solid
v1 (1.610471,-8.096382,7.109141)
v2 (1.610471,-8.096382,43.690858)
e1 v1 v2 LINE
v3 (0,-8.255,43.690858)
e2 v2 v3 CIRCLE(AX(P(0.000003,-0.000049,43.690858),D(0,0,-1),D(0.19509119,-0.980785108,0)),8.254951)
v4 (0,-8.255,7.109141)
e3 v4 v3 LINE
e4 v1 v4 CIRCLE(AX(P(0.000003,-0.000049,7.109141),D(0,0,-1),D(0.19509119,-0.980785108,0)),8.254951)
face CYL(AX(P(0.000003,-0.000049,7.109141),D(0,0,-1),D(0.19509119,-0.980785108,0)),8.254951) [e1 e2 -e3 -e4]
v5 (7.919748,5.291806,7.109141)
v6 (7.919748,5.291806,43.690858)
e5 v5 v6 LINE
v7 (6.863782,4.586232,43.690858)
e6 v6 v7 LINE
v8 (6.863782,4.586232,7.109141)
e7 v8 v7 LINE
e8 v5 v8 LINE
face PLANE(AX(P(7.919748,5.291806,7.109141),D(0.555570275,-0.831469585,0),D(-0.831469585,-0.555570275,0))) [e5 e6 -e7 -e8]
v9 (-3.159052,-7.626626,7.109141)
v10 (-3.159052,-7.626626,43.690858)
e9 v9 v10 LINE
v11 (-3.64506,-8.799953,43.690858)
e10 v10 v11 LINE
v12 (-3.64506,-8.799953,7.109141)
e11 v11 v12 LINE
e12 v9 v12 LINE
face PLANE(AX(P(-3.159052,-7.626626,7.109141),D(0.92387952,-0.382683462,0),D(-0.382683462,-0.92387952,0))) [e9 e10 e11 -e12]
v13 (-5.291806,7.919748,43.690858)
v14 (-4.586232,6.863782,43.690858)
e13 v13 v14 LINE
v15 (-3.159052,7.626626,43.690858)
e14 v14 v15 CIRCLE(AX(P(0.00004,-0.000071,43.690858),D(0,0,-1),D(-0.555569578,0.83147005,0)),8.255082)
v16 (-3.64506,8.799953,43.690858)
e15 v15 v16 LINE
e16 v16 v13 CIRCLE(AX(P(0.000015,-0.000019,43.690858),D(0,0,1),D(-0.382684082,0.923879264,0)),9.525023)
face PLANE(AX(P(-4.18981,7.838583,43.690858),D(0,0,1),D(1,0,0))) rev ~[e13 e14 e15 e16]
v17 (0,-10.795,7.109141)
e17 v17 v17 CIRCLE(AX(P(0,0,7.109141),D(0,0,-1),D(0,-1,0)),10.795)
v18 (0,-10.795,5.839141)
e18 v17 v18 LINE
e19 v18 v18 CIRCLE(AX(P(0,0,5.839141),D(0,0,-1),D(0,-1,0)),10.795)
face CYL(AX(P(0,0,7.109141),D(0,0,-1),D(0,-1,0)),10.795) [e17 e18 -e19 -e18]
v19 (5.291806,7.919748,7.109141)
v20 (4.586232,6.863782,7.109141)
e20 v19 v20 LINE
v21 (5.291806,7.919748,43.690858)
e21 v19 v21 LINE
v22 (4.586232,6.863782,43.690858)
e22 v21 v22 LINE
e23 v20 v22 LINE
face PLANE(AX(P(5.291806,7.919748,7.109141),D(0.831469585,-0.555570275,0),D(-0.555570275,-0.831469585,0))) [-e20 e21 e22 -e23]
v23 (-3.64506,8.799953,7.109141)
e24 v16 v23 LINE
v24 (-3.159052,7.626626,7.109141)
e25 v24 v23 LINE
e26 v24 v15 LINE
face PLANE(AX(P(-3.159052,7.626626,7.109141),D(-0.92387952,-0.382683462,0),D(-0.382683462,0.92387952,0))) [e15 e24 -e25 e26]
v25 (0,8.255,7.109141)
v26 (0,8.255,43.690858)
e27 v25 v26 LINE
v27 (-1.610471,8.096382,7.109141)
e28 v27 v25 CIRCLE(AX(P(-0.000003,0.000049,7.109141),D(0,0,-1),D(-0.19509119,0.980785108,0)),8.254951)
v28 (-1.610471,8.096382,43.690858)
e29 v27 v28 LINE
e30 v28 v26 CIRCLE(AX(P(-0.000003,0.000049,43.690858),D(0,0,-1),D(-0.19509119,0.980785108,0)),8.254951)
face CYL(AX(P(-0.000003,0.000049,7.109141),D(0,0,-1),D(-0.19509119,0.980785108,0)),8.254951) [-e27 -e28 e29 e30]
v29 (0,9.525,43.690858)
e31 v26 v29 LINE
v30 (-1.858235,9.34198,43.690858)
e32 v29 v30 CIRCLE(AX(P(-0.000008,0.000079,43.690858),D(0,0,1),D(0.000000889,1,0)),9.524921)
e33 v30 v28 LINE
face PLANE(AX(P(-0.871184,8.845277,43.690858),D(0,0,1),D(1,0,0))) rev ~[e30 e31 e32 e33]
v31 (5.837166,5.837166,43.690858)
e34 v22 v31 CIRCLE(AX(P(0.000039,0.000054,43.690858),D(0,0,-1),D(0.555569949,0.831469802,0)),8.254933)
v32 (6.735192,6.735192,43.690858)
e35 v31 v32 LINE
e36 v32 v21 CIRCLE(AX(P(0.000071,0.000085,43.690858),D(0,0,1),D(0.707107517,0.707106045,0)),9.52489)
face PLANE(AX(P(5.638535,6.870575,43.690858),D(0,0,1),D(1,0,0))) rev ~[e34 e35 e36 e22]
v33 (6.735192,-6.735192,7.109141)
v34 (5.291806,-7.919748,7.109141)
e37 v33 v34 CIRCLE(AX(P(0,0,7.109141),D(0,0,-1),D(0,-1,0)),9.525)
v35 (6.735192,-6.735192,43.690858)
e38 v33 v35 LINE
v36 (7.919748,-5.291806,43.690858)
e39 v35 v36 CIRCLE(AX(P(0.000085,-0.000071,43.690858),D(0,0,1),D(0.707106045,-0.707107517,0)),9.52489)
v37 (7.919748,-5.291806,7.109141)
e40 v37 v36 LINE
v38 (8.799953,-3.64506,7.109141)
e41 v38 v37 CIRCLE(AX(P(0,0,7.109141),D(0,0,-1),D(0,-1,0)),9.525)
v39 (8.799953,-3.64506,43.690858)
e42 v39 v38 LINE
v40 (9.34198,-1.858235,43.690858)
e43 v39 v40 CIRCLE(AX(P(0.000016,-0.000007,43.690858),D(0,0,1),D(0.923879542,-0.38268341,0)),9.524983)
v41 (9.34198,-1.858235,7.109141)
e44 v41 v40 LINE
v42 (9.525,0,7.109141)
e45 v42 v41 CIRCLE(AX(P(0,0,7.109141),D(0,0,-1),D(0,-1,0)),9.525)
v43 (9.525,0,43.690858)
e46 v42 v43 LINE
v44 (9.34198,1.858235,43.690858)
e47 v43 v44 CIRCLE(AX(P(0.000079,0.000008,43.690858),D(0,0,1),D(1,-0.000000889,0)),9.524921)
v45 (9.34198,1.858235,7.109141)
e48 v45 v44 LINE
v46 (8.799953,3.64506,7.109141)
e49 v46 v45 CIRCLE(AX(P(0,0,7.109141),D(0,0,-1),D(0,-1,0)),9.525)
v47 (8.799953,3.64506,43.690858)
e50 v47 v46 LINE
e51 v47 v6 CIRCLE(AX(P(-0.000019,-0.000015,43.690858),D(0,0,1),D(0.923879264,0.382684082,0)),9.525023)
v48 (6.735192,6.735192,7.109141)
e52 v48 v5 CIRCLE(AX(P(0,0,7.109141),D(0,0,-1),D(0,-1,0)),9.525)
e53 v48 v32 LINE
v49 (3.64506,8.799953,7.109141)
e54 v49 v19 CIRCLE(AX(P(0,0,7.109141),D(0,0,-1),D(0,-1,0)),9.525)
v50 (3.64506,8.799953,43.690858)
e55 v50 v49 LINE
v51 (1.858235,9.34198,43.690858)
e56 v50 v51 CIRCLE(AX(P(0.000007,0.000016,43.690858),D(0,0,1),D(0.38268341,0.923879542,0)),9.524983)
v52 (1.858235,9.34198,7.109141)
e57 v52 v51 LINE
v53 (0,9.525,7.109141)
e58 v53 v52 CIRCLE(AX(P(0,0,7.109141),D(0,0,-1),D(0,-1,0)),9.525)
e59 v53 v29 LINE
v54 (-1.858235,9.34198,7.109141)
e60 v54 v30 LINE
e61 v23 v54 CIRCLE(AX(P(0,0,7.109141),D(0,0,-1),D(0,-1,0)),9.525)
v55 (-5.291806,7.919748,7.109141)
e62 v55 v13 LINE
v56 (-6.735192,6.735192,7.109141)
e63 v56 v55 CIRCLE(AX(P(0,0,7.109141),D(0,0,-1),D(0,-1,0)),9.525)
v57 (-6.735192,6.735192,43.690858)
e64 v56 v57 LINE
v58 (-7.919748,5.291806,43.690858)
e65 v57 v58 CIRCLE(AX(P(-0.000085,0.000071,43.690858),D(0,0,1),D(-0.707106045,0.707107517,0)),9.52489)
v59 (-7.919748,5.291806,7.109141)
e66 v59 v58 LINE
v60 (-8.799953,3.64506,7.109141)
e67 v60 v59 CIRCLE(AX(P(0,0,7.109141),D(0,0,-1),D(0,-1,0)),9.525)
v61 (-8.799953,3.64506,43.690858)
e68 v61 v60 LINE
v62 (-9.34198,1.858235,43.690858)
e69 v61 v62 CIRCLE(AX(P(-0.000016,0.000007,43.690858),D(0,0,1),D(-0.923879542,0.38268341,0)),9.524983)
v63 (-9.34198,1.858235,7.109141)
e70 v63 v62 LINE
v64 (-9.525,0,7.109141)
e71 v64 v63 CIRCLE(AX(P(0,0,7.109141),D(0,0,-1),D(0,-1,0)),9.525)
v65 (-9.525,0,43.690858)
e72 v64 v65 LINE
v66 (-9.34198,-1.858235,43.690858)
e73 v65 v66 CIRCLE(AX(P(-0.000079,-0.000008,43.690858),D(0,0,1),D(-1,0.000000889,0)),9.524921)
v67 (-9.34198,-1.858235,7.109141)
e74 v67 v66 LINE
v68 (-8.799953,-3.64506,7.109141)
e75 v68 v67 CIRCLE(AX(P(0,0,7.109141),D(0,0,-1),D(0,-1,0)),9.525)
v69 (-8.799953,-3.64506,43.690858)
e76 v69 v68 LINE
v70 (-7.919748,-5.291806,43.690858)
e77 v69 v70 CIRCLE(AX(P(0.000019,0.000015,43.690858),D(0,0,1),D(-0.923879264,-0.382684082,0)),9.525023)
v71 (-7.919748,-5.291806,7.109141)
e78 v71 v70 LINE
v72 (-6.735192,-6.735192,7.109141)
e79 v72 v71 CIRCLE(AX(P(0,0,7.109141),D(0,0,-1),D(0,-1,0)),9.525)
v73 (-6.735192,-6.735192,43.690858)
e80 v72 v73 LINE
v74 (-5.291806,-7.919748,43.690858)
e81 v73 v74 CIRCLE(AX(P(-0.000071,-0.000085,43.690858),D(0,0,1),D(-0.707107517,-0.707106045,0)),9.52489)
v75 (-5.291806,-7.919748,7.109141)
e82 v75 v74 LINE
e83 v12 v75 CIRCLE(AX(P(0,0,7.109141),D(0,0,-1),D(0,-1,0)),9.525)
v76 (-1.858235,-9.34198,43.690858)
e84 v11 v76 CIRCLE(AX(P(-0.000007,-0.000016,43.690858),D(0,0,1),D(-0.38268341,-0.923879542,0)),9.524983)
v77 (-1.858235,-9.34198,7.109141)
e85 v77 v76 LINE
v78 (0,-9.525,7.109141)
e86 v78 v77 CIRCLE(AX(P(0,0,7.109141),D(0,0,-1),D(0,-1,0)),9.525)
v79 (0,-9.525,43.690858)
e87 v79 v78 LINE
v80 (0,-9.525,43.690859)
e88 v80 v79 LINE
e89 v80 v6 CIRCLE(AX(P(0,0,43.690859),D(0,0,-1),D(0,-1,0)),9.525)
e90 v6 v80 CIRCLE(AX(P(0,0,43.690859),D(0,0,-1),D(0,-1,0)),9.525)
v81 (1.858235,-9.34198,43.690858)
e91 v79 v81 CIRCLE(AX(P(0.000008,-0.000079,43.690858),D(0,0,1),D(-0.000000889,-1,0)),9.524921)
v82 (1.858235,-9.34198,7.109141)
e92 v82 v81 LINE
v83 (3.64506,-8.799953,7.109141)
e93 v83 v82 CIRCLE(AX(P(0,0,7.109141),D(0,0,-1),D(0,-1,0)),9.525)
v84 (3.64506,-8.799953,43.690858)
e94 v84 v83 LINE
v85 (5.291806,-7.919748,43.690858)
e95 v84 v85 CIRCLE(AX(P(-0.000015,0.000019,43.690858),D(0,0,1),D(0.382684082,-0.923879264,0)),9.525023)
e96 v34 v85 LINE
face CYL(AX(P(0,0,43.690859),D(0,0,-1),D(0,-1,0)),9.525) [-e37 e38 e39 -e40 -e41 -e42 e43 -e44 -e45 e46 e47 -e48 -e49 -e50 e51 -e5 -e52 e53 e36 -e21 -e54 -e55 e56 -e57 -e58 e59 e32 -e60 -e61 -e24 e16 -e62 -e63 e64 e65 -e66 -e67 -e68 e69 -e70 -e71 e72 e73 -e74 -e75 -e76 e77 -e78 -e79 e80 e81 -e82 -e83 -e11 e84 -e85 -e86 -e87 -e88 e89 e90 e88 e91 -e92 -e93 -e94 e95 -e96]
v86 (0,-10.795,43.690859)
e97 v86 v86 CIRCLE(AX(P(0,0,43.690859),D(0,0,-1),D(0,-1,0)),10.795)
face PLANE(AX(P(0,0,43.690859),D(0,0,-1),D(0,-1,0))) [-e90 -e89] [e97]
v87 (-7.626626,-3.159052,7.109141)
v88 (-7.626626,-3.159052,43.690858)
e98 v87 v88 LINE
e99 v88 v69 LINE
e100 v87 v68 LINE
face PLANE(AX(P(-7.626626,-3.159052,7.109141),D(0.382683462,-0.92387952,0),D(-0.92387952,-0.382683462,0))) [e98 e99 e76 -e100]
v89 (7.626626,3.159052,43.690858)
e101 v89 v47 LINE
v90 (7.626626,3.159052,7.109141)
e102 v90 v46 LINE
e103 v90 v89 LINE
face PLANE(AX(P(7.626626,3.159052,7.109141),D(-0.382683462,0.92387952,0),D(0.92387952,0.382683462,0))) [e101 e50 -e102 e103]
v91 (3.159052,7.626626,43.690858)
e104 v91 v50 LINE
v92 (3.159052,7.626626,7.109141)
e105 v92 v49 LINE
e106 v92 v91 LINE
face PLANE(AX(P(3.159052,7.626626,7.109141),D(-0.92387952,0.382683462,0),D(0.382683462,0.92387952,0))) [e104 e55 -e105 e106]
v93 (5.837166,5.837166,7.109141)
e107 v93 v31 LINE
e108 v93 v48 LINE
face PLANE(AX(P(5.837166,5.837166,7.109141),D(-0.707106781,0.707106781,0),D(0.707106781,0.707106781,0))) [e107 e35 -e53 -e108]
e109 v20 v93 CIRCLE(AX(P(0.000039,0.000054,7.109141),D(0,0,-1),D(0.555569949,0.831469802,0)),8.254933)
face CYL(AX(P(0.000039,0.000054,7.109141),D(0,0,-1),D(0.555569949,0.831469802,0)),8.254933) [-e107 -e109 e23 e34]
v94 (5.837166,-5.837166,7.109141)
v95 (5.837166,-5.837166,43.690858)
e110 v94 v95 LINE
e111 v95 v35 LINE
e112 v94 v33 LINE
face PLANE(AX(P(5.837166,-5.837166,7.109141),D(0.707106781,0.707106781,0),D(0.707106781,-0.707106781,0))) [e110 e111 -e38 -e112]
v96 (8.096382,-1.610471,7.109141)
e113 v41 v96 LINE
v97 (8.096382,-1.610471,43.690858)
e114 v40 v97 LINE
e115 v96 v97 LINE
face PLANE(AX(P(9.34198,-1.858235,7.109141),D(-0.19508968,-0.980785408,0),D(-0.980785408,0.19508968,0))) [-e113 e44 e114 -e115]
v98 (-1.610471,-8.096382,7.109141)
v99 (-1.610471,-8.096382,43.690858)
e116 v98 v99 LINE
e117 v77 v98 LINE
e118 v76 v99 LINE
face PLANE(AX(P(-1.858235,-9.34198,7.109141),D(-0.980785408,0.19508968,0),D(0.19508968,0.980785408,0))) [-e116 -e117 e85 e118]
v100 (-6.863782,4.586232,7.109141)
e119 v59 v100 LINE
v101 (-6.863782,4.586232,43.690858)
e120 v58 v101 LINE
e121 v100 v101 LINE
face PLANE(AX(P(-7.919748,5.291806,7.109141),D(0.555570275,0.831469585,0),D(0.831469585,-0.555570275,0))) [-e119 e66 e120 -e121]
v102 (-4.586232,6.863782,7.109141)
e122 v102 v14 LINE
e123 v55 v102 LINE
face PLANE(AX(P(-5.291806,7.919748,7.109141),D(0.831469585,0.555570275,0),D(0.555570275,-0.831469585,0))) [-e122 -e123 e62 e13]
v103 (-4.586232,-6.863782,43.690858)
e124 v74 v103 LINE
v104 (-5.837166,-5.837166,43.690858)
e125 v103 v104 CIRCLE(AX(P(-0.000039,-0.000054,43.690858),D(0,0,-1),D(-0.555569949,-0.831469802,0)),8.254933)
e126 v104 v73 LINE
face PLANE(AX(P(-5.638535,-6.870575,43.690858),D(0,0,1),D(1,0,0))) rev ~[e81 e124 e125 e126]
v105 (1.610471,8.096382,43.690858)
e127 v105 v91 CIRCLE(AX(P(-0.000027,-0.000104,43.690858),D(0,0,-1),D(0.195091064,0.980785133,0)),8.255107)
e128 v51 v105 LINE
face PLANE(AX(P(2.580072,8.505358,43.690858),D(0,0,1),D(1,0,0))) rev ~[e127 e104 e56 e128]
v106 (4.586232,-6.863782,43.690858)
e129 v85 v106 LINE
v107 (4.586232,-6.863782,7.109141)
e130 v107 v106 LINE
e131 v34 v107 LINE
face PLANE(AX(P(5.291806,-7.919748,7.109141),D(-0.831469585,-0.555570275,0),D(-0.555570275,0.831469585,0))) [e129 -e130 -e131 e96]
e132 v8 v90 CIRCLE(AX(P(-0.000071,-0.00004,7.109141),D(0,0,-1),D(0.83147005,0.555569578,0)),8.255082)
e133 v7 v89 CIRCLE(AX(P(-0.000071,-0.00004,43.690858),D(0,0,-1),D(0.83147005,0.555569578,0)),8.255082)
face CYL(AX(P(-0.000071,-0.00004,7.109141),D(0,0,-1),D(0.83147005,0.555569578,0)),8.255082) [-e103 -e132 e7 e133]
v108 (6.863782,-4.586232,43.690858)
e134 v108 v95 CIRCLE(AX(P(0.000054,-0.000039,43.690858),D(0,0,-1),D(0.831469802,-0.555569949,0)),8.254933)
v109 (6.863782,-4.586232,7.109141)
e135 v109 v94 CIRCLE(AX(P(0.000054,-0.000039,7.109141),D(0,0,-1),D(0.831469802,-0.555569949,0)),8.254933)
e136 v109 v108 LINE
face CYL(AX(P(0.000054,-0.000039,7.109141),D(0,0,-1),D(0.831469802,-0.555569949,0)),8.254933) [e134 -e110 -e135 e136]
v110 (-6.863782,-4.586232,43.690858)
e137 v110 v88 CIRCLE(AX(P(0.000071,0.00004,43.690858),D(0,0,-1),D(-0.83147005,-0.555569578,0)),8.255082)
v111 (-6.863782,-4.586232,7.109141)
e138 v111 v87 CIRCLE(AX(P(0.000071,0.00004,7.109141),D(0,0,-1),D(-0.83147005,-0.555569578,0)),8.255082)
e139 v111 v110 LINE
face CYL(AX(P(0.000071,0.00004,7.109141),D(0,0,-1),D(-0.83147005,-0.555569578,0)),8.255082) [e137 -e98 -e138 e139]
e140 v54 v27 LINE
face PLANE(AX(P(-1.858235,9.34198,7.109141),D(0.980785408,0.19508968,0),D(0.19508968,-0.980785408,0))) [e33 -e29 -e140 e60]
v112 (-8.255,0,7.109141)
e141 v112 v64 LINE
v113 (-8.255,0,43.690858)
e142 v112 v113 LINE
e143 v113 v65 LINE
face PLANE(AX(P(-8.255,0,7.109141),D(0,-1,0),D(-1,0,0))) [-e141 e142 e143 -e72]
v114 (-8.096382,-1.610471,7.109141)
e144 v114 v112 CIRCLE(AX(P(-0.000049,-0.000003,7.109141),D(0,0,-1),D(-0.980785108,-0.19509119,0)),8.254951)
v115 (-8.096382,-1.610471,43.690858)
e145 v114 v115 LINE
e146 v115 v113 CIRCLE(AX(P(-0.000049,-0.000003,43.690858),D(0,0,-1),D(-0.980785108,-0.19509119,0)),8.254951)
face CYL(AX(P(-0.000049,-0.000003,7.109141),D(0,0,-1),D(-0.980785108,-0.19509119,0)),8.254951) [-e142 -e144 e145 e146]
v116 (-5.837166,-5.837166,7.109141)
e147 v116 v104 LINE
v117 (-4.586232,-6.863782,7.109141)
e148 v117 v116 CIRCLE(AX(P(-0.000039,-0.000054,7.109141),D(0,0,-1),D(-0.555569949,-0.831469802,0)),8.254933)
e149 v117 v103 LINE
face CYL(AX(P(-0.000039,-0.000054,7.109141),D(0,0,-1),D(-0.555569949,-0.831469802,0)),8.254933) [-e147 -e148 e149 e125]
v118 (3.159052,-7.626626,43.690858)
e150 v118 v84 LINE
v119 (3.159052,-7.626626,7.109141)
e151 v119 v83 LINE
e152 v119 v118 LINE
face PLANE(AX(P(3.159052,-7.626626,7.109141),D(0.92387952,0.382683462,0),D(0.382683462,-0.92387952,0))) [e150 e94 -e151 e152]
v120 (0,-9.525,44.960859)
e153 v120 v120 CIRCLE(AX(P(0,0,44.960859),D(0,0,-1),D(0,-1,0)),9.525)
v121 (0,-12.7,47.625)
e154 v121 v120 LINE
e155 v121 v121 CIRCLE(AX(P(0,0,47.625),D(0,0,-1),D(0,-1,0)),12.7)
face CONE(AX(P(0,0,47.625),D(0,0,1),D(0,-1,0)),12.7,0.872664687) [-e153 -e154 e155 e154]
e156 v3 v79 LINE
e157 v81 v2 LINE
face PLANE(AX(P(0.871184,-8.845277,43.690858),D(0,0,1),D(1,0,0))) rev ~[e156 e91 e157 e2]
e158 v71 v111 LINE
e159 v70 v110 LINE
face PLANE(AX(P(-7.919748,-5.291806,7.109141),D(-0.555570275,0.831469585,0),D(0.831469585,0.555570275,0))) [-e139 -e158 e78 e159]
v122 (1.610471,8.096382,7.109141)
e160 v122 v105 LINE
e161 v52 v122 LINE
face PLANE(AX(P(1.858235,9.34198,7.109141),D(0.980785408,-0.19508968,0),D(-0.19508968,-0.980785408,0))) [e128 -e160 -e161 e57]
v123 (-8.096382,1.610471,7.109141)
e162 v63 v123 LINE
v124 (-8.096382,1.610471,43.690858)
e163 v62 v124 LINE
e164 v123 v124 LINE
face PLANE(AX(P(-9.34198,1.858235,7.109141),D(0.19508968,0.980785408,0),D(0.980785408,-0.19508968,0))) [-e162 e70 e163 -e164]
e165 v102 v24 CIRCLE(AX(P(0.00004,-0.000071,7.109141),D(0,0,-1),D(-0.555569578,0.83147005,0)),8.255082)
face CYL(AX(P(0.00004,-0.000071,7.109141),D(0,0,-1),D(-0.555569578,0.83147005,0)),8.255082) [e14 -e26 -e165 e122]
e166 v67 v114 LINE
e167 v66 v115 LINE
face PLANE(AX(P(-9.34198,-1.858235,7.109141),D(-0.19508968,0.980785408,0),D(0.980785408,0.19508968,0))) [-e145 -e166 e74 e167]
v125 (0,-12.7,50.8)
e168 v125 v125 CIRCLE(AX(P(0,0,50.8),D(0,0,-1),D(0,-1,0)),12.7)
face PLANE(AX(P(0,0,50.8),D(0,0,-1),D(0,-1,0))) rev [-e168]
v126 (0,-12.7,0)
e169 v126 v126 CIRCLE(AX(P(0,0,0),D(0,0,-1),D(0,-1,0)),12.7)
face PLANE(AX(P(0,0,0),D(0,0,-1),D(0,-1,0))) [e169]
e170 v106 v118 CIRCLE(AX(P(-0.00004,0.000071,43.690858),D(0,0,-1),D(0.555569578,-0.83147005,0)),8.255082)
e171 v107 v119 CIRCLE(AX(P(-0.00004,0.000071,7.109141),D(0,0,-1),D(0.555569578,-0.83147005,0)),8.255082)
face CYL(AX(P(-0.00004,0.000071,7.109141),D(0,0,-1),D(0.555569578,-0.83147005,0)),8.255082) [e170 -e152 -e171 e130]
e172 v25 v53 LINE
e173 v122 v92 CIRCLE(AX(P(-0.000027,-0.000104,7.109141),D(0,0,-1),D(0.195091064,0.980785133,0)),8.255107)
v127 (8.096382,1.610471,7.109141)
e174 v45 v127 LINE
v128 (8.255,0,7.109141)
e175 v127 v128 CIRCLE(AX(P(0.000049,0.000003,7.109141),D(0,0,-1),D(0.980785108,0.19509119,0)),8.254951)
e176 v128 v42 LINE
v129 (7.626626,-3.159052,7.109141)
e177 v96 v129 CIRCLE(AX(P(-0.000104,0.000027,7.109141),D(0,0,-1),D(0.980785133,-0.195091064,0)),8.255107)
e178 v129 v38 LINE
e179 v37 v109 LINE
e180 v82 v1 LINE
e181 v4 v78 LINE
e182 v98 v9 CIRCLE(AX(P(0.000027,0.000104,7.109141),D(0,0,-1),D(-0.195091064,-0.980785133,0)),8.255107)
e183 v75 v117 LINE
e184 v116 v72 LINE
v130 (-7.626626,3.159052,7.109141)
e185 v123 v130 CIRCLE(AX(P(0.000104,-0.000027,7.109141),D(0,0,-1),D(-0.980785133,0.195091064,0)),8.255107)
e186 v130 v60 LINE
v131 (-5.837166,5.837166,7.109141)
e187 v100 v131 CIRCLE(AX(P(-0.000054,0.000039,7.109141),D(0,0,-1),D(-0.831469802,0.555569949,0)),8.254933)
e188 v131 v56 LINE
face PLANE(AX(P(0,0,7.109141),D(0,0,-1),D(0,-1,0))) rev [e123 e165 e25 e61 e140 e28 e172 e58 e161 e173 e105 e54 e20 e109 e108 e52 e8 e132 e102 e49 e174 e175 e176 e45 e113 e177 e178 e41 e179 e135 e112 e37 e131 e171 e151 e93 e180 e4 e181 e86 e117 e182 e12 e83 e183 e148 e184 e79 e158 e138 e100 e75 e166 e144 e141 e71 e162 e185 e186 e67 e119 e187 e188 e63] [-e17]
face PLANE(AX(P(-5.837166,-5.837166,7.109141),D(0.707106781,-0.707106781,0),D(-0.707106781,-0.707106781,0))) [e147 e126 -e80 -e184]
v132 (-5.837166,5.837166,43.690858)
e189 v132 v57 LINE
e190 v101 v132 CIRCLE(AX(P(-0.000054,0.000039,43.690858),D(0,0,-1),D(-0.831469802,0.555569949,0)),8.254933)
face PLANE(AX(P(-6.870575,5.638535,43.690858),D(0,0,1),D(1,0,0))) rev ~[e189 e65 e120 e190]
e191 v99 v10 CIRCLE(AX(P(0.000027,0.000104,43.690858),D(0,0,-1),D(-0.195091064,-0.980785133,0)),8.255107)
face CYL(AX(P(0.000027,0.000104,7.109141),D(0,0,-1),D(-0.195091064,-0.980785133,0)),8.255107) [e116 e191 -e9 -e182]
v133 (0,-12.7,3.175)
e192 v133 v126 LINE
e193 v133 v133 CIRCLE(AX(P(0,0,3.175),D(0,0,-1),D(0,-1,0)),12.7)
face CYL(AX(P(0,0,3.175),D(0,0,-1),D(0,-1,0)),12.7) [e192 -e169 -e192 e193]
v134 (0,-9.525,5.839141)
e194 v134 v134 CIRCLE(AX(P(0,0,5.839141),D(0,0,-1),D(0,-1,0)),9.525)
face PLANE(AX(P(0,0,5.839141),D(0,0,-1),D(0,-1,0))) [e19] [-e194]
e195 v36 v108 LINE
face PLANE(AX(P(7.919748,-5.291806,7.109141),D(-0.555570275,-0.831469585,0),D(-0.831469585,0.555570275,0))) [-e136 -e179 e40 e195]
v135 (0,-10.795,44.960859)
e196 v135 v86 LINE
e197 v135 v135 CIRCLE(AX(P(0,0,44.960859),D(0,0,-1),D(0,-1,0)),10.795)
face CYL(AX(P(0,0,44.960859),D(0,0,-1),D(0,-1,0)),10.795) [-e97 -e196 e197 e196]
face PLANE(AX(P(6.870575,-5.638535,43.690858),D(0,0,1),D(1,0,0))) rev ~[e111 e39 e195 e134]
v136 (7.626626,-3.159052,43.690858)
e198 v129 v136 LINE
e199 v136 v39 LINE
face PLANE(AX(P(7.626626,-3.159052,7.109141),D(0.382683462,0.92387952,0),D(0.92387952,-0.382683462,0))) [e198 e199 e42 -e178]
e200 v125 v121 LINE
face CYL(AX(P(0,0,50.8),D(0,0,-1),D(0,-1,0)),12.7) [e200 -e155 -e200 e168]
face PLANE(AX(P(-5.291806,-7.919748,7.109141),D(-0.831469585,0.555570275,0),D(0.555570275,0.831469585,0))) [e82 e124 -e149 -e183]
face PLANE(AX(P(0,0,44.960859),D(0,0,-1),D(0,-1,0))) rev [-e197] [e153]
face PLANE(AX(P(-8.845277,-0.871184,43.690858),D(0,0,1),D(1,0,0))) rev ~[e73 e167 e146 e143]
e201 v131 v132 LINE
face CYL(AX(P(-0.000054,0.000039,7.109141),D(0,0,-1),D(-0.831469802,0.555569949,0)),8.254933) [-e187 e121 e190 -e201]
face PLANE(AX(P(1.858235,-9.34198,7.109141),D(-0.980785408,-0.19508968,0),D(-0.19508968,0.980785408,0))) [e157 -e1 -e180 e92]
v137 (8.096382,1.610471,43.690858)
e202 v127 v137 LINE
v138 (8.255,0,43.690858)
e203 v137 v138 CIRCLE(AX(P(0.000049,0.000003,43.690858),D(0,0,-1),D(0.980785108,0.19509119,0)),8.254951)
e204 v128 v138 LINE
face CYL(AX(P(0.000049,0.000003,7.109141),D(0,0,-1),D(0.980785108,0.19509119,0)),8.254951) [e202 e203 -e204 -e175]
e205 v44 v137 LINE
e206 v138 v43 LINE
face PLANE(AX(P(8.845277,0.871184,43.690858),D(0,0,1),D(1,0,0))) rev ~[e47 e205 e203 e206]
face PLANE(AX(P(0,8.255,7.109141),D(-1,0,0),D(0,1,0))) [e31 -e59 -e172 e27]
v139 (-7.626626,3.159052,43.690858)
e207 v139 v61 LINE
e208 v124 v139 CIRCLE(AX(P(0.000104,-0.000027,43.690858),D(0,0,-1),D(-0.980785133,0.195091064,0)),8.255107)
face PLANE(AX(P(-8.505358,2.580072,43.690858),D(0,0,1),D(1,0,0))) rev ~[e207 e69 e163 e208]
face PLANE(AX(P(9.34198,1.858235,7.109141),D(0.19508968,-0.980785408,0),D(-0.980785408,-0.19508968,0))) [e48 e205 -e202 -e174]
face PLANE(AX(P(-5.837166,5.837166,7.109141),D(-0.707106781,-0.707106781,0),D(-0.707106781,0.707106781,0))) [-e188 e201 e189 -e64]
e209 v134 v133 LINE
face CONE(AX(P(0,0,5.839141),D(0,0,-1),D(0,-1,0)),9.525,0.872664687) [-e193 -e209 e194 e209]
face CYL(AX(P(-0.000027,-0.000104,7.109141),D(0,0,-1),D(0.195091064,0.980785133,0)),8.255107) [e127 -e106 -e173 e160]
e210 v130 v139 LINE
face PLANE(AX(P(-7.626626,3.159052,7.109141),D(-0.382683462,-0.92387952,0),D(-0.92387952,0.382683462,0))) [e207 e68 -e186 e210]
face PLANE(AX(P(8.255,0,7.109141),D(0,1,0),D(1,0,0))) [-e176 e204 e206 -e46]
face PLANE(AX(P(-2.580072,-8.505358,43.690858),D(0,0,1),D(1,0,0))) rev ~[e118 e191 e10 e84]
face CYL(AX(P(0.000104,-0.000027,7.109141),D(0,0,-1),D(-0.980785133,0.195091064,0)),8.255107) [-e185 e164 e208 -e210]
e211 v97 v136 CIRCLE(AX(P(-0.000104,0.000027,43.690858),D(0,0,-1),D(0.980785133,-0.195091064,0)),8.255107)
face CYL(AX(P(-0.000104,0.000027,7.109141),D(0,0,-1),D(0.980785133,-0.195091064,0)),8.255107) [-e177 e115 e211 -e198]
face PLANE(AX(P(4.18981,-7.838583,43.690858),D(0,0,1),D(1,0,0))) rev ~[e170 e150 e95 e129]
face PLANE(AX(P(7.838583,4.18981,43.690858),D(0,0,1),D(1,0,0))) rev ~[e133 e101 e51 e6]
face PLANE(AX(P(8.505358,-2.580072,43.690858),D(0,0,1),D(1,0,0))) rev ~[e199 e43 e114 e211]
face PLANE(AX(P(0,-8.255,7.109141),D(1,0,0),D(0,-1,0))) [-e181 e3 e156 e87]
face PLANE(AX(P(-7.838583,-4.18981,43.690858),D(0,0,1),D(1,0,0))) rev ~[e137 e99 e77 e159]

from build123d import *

# Parameters (mm, degrees)
F3_DEPTH = 36.581717


with BuildPart() as f1:
    # F0 (on Right) → F1 (revolve)
    with BuildSketch(Plane.YZ):
        Polygon((-12.7, 0), (0, 0), (0, 50.8), (-12.7, 50.8), (-12.7, 47.625), (-9.525, 44.960859), (-10.795, 44.960859), (-10.795, 43.690859), (-9.525, 43.690859), (-9.525, 7.109141), (-10.795, 7.109141), (-10.795, 5.839141), (-9.525, 5.839141), (-12.7, 3.175), align=None)
    revolve(axis=Axis((0, 0, 25.4), (0, 0, -1)))

    # F2 (on face) → F3 (cut, through all)
    with BuildSketch(Plane.XY.offset(7.109141)):
        with BuildLine():
            Line((3.159052, -7.626626), (3.64506, -8.799953))
            ThreePointArc((3.64506, -8.799953), (4.490054, -8.4003), (5.291806, -7.919748))
            Line((5.291806, -7.919748), (4.586232, -6.863782))
            ThreePointArc((4.586232, -6.863782), (3.89138, -7.28026), (3.159052, -7.626626))
        make_face()
        with BuildLine():
            Line((0, -8.255), (0, -9.525))
            ThreePointArc((0, -9.525), (0.933613, -9.479135), (1.858235, -9.34198))
            Line((1.858235, -9.34198), (1.610471, -8.096382))
            ThreePointArc((1.610471, -8.096382), (0.809131, -8.21525), (0, -8.255))
        make_face()
        with BuildLine():
            ThreePointArc((6.863782, -4.586232), (6.381201, -5.236917), (5.837166, -5.837166))
            Line((5.837166, -5.837166), (6.735192, -6.735192))
            ThreePointArc((6.735192, -6.735192), (7.362925, -6.042596), (7.919748, -5.291806))
            Line((7.919748, -5.291806), (6.863782, -4.586232))
        make_face()
        with BuildLine():
            ThreePointArc((8.096382, -1.610471), (7.899542, -2.3963), (7.626626, -3.159052))
            Line((7.626626, -3.159052), (8.799953, -3.64506))
            ThreePointArc((8.799953, -3.64506), (9.114857, -2.764962), (9.34198, -1.858235))
            Line((9.34198, -1.858235), (8.096382, -1.610471))
        make_face()
        with BuildLine():
            Line((-7.626626, -3.159052), (-8.799953, -3.64506))
            ThreePointArc((-8.799953, -3.64506), (-8.4003, -4.490054), (-7.919748, -5.291806))
            Line((-7.919748, -5.291806), (-6.863782, -4.586232))
            ThreePointArc((-6.863782, -4.586232), (-7.28026, -3.89138), (-7.626626, -3.159052))
        make_face()
        with BuildLine():
            Line((-8.255, 0), (-9.525, 0))
            ThreePointArc((-9.525, 0), (-9.479135, -0.933613), (-9.34198, -1.858235))
            Line((-9.34198, -1.858235), (-8.096382, -1.610471))
            ThreePointArc((-8.096382, -1.610471), (-8.21525, -0.809131), (-8.255, 0))
        make_face()
        with BuildLine():
            Line((-5.291806, -7.919748), (-4.586232, -6.863782))
            ThreePointArc((-4.586232, -6.863782), (-5.236917, -6.381201), (-5.837166, -5.837166))
            Line((-5.837166, -5.837166), (-6.735192, -6.735192))
            ThreePointArc((-6.735192, -6.735192), (-6.042596, -7.362925), (-5.291806, -7.919748))
        make_face()
        with BuildLine():
            Line((-3.159052, -7.626626), (-3.64506, -8.799953))
            ThreePointArc((-3.64506, -8.799953), (-2.764962, -9.114857), (-1.858235, -9.34198))
            Line((-1.858235, -9.34198), (-1.610471, -8.096382))
            ThreePointArc((-1.610471, -8.096382), (-2.3963, -7.899542), (-3.159052, -7.626626))
        make_face()
        with BuildLine():
            Line((-3.159052, 7.626626), (-3.64506, 8.799953))
            ThreePointArc((-3.64506, 8.799953), (-4.490054, 8.4003), (-5.291806, 7.919748))
            Line((-5.291806, 7.919748), (-4.586232, 6.863782))
            ThreePointArc((-4.586232, 6.863782), (-3.89138, 7.28026), (-3.159052, 7.626626))
        make_face()
        with BuildLine():
            Line((0, 8.255), (0, 9.525))
            ThreePointArc((0, 9.525), (-0.933613, 9.479135), (-1.858235, 9.34198))
            Line((-1.858235, 9.34198), (-1.610471, 8.096382))
            ThreePointArc((-1.610471, 8.096382), (-0.809131, 8.21525), (0, 8.255))
        make_face()
        with BuildLine():
            Line((-7.919748, 5.291806), (-6.863782, 4.586232))
            ThreePointArc((-6.863782, 4.586232), (-6.381201, 5.236917), (-5.837166, 5.837166))
            Line((-5.837166, 5.837166), (-6.735192, 6.735192))
            ThreePointArc((-6.735192, 6.735192), (-7.362925, 6.042596), (-7.919748, 5.291806))
        make_face()
        with BuildLine():
            Line((-7.626626, 3.159052), (-8.799953, 3.64506))
            ThreePointArc((-8.799953, 3.64506), (-9.114857, 2.764962), (-9.34198, 1.858235))
            Line((-9.34198, 1.858235), (-8.096382, 1.610471))
            ThreePointArc((-8.096382, 1.610471), (-7.899542, 2.3963), (-7.626626, 3.159052))
        make_face()
        with BuildLine():
            Line((7.626626, 3.159052), (8.799953, 3.64506))
            ThreePointArc((8.799953, 3.64506), (8.4003, 4.490054), (7.919748, 5.291806))
            Line((7.919748, 5.291806), (6.863782, 4.586232))
            ThreePointArc((6.863782, 4.586232), (7.28026, 3.89138), (7.626626, 3.159052))
        make_face()
        with BuildLine():
            Line((8.255, 0), (9.525, 0))
            ThreePointArc((9.525, 0), (9.479135, 0.933613), (9.34198, 1.858235))
            Line((9.34198, 1.858235), (8.096382, 1.610471))
            ThreePointArc((8.096382, 1.610471), (8.21525, 0.809131), (8.255, 0))
        make_face()
        with BuildLine():
            Line((5.291806, 7.919748), (4.586232, 6.863782))
            ThreePointArc((4.586232, 6.863782), (5.236917, 6.381201), (5.837166, 5.837166))
            Line((5.837166, 5.837166), (6.735192, 6.735192))
            ThreePointArc((6.735192, 6.735192), (6.042596, 7.362925), (5.291806, 7.919748))
        make_face()
        with BuildLine():
            Line((3.159052, 7.626626), (3.64506, 8.799953))
            ThreePointArc((3.64506, 8.799953), (2.764962, 9.114857), (1.858235, 9.34198))
            Line((1.858235, 9.34198), (1.610471, 8.096382))
            ThreePointArc((1.610471, 8.096382), (2.3963, 7.899542), (3.159052, 7.626626))
        make_face()
    extrude(amount=F3_DEPTH, mode=Mode.SUBTRACT)


solid = f1.part
